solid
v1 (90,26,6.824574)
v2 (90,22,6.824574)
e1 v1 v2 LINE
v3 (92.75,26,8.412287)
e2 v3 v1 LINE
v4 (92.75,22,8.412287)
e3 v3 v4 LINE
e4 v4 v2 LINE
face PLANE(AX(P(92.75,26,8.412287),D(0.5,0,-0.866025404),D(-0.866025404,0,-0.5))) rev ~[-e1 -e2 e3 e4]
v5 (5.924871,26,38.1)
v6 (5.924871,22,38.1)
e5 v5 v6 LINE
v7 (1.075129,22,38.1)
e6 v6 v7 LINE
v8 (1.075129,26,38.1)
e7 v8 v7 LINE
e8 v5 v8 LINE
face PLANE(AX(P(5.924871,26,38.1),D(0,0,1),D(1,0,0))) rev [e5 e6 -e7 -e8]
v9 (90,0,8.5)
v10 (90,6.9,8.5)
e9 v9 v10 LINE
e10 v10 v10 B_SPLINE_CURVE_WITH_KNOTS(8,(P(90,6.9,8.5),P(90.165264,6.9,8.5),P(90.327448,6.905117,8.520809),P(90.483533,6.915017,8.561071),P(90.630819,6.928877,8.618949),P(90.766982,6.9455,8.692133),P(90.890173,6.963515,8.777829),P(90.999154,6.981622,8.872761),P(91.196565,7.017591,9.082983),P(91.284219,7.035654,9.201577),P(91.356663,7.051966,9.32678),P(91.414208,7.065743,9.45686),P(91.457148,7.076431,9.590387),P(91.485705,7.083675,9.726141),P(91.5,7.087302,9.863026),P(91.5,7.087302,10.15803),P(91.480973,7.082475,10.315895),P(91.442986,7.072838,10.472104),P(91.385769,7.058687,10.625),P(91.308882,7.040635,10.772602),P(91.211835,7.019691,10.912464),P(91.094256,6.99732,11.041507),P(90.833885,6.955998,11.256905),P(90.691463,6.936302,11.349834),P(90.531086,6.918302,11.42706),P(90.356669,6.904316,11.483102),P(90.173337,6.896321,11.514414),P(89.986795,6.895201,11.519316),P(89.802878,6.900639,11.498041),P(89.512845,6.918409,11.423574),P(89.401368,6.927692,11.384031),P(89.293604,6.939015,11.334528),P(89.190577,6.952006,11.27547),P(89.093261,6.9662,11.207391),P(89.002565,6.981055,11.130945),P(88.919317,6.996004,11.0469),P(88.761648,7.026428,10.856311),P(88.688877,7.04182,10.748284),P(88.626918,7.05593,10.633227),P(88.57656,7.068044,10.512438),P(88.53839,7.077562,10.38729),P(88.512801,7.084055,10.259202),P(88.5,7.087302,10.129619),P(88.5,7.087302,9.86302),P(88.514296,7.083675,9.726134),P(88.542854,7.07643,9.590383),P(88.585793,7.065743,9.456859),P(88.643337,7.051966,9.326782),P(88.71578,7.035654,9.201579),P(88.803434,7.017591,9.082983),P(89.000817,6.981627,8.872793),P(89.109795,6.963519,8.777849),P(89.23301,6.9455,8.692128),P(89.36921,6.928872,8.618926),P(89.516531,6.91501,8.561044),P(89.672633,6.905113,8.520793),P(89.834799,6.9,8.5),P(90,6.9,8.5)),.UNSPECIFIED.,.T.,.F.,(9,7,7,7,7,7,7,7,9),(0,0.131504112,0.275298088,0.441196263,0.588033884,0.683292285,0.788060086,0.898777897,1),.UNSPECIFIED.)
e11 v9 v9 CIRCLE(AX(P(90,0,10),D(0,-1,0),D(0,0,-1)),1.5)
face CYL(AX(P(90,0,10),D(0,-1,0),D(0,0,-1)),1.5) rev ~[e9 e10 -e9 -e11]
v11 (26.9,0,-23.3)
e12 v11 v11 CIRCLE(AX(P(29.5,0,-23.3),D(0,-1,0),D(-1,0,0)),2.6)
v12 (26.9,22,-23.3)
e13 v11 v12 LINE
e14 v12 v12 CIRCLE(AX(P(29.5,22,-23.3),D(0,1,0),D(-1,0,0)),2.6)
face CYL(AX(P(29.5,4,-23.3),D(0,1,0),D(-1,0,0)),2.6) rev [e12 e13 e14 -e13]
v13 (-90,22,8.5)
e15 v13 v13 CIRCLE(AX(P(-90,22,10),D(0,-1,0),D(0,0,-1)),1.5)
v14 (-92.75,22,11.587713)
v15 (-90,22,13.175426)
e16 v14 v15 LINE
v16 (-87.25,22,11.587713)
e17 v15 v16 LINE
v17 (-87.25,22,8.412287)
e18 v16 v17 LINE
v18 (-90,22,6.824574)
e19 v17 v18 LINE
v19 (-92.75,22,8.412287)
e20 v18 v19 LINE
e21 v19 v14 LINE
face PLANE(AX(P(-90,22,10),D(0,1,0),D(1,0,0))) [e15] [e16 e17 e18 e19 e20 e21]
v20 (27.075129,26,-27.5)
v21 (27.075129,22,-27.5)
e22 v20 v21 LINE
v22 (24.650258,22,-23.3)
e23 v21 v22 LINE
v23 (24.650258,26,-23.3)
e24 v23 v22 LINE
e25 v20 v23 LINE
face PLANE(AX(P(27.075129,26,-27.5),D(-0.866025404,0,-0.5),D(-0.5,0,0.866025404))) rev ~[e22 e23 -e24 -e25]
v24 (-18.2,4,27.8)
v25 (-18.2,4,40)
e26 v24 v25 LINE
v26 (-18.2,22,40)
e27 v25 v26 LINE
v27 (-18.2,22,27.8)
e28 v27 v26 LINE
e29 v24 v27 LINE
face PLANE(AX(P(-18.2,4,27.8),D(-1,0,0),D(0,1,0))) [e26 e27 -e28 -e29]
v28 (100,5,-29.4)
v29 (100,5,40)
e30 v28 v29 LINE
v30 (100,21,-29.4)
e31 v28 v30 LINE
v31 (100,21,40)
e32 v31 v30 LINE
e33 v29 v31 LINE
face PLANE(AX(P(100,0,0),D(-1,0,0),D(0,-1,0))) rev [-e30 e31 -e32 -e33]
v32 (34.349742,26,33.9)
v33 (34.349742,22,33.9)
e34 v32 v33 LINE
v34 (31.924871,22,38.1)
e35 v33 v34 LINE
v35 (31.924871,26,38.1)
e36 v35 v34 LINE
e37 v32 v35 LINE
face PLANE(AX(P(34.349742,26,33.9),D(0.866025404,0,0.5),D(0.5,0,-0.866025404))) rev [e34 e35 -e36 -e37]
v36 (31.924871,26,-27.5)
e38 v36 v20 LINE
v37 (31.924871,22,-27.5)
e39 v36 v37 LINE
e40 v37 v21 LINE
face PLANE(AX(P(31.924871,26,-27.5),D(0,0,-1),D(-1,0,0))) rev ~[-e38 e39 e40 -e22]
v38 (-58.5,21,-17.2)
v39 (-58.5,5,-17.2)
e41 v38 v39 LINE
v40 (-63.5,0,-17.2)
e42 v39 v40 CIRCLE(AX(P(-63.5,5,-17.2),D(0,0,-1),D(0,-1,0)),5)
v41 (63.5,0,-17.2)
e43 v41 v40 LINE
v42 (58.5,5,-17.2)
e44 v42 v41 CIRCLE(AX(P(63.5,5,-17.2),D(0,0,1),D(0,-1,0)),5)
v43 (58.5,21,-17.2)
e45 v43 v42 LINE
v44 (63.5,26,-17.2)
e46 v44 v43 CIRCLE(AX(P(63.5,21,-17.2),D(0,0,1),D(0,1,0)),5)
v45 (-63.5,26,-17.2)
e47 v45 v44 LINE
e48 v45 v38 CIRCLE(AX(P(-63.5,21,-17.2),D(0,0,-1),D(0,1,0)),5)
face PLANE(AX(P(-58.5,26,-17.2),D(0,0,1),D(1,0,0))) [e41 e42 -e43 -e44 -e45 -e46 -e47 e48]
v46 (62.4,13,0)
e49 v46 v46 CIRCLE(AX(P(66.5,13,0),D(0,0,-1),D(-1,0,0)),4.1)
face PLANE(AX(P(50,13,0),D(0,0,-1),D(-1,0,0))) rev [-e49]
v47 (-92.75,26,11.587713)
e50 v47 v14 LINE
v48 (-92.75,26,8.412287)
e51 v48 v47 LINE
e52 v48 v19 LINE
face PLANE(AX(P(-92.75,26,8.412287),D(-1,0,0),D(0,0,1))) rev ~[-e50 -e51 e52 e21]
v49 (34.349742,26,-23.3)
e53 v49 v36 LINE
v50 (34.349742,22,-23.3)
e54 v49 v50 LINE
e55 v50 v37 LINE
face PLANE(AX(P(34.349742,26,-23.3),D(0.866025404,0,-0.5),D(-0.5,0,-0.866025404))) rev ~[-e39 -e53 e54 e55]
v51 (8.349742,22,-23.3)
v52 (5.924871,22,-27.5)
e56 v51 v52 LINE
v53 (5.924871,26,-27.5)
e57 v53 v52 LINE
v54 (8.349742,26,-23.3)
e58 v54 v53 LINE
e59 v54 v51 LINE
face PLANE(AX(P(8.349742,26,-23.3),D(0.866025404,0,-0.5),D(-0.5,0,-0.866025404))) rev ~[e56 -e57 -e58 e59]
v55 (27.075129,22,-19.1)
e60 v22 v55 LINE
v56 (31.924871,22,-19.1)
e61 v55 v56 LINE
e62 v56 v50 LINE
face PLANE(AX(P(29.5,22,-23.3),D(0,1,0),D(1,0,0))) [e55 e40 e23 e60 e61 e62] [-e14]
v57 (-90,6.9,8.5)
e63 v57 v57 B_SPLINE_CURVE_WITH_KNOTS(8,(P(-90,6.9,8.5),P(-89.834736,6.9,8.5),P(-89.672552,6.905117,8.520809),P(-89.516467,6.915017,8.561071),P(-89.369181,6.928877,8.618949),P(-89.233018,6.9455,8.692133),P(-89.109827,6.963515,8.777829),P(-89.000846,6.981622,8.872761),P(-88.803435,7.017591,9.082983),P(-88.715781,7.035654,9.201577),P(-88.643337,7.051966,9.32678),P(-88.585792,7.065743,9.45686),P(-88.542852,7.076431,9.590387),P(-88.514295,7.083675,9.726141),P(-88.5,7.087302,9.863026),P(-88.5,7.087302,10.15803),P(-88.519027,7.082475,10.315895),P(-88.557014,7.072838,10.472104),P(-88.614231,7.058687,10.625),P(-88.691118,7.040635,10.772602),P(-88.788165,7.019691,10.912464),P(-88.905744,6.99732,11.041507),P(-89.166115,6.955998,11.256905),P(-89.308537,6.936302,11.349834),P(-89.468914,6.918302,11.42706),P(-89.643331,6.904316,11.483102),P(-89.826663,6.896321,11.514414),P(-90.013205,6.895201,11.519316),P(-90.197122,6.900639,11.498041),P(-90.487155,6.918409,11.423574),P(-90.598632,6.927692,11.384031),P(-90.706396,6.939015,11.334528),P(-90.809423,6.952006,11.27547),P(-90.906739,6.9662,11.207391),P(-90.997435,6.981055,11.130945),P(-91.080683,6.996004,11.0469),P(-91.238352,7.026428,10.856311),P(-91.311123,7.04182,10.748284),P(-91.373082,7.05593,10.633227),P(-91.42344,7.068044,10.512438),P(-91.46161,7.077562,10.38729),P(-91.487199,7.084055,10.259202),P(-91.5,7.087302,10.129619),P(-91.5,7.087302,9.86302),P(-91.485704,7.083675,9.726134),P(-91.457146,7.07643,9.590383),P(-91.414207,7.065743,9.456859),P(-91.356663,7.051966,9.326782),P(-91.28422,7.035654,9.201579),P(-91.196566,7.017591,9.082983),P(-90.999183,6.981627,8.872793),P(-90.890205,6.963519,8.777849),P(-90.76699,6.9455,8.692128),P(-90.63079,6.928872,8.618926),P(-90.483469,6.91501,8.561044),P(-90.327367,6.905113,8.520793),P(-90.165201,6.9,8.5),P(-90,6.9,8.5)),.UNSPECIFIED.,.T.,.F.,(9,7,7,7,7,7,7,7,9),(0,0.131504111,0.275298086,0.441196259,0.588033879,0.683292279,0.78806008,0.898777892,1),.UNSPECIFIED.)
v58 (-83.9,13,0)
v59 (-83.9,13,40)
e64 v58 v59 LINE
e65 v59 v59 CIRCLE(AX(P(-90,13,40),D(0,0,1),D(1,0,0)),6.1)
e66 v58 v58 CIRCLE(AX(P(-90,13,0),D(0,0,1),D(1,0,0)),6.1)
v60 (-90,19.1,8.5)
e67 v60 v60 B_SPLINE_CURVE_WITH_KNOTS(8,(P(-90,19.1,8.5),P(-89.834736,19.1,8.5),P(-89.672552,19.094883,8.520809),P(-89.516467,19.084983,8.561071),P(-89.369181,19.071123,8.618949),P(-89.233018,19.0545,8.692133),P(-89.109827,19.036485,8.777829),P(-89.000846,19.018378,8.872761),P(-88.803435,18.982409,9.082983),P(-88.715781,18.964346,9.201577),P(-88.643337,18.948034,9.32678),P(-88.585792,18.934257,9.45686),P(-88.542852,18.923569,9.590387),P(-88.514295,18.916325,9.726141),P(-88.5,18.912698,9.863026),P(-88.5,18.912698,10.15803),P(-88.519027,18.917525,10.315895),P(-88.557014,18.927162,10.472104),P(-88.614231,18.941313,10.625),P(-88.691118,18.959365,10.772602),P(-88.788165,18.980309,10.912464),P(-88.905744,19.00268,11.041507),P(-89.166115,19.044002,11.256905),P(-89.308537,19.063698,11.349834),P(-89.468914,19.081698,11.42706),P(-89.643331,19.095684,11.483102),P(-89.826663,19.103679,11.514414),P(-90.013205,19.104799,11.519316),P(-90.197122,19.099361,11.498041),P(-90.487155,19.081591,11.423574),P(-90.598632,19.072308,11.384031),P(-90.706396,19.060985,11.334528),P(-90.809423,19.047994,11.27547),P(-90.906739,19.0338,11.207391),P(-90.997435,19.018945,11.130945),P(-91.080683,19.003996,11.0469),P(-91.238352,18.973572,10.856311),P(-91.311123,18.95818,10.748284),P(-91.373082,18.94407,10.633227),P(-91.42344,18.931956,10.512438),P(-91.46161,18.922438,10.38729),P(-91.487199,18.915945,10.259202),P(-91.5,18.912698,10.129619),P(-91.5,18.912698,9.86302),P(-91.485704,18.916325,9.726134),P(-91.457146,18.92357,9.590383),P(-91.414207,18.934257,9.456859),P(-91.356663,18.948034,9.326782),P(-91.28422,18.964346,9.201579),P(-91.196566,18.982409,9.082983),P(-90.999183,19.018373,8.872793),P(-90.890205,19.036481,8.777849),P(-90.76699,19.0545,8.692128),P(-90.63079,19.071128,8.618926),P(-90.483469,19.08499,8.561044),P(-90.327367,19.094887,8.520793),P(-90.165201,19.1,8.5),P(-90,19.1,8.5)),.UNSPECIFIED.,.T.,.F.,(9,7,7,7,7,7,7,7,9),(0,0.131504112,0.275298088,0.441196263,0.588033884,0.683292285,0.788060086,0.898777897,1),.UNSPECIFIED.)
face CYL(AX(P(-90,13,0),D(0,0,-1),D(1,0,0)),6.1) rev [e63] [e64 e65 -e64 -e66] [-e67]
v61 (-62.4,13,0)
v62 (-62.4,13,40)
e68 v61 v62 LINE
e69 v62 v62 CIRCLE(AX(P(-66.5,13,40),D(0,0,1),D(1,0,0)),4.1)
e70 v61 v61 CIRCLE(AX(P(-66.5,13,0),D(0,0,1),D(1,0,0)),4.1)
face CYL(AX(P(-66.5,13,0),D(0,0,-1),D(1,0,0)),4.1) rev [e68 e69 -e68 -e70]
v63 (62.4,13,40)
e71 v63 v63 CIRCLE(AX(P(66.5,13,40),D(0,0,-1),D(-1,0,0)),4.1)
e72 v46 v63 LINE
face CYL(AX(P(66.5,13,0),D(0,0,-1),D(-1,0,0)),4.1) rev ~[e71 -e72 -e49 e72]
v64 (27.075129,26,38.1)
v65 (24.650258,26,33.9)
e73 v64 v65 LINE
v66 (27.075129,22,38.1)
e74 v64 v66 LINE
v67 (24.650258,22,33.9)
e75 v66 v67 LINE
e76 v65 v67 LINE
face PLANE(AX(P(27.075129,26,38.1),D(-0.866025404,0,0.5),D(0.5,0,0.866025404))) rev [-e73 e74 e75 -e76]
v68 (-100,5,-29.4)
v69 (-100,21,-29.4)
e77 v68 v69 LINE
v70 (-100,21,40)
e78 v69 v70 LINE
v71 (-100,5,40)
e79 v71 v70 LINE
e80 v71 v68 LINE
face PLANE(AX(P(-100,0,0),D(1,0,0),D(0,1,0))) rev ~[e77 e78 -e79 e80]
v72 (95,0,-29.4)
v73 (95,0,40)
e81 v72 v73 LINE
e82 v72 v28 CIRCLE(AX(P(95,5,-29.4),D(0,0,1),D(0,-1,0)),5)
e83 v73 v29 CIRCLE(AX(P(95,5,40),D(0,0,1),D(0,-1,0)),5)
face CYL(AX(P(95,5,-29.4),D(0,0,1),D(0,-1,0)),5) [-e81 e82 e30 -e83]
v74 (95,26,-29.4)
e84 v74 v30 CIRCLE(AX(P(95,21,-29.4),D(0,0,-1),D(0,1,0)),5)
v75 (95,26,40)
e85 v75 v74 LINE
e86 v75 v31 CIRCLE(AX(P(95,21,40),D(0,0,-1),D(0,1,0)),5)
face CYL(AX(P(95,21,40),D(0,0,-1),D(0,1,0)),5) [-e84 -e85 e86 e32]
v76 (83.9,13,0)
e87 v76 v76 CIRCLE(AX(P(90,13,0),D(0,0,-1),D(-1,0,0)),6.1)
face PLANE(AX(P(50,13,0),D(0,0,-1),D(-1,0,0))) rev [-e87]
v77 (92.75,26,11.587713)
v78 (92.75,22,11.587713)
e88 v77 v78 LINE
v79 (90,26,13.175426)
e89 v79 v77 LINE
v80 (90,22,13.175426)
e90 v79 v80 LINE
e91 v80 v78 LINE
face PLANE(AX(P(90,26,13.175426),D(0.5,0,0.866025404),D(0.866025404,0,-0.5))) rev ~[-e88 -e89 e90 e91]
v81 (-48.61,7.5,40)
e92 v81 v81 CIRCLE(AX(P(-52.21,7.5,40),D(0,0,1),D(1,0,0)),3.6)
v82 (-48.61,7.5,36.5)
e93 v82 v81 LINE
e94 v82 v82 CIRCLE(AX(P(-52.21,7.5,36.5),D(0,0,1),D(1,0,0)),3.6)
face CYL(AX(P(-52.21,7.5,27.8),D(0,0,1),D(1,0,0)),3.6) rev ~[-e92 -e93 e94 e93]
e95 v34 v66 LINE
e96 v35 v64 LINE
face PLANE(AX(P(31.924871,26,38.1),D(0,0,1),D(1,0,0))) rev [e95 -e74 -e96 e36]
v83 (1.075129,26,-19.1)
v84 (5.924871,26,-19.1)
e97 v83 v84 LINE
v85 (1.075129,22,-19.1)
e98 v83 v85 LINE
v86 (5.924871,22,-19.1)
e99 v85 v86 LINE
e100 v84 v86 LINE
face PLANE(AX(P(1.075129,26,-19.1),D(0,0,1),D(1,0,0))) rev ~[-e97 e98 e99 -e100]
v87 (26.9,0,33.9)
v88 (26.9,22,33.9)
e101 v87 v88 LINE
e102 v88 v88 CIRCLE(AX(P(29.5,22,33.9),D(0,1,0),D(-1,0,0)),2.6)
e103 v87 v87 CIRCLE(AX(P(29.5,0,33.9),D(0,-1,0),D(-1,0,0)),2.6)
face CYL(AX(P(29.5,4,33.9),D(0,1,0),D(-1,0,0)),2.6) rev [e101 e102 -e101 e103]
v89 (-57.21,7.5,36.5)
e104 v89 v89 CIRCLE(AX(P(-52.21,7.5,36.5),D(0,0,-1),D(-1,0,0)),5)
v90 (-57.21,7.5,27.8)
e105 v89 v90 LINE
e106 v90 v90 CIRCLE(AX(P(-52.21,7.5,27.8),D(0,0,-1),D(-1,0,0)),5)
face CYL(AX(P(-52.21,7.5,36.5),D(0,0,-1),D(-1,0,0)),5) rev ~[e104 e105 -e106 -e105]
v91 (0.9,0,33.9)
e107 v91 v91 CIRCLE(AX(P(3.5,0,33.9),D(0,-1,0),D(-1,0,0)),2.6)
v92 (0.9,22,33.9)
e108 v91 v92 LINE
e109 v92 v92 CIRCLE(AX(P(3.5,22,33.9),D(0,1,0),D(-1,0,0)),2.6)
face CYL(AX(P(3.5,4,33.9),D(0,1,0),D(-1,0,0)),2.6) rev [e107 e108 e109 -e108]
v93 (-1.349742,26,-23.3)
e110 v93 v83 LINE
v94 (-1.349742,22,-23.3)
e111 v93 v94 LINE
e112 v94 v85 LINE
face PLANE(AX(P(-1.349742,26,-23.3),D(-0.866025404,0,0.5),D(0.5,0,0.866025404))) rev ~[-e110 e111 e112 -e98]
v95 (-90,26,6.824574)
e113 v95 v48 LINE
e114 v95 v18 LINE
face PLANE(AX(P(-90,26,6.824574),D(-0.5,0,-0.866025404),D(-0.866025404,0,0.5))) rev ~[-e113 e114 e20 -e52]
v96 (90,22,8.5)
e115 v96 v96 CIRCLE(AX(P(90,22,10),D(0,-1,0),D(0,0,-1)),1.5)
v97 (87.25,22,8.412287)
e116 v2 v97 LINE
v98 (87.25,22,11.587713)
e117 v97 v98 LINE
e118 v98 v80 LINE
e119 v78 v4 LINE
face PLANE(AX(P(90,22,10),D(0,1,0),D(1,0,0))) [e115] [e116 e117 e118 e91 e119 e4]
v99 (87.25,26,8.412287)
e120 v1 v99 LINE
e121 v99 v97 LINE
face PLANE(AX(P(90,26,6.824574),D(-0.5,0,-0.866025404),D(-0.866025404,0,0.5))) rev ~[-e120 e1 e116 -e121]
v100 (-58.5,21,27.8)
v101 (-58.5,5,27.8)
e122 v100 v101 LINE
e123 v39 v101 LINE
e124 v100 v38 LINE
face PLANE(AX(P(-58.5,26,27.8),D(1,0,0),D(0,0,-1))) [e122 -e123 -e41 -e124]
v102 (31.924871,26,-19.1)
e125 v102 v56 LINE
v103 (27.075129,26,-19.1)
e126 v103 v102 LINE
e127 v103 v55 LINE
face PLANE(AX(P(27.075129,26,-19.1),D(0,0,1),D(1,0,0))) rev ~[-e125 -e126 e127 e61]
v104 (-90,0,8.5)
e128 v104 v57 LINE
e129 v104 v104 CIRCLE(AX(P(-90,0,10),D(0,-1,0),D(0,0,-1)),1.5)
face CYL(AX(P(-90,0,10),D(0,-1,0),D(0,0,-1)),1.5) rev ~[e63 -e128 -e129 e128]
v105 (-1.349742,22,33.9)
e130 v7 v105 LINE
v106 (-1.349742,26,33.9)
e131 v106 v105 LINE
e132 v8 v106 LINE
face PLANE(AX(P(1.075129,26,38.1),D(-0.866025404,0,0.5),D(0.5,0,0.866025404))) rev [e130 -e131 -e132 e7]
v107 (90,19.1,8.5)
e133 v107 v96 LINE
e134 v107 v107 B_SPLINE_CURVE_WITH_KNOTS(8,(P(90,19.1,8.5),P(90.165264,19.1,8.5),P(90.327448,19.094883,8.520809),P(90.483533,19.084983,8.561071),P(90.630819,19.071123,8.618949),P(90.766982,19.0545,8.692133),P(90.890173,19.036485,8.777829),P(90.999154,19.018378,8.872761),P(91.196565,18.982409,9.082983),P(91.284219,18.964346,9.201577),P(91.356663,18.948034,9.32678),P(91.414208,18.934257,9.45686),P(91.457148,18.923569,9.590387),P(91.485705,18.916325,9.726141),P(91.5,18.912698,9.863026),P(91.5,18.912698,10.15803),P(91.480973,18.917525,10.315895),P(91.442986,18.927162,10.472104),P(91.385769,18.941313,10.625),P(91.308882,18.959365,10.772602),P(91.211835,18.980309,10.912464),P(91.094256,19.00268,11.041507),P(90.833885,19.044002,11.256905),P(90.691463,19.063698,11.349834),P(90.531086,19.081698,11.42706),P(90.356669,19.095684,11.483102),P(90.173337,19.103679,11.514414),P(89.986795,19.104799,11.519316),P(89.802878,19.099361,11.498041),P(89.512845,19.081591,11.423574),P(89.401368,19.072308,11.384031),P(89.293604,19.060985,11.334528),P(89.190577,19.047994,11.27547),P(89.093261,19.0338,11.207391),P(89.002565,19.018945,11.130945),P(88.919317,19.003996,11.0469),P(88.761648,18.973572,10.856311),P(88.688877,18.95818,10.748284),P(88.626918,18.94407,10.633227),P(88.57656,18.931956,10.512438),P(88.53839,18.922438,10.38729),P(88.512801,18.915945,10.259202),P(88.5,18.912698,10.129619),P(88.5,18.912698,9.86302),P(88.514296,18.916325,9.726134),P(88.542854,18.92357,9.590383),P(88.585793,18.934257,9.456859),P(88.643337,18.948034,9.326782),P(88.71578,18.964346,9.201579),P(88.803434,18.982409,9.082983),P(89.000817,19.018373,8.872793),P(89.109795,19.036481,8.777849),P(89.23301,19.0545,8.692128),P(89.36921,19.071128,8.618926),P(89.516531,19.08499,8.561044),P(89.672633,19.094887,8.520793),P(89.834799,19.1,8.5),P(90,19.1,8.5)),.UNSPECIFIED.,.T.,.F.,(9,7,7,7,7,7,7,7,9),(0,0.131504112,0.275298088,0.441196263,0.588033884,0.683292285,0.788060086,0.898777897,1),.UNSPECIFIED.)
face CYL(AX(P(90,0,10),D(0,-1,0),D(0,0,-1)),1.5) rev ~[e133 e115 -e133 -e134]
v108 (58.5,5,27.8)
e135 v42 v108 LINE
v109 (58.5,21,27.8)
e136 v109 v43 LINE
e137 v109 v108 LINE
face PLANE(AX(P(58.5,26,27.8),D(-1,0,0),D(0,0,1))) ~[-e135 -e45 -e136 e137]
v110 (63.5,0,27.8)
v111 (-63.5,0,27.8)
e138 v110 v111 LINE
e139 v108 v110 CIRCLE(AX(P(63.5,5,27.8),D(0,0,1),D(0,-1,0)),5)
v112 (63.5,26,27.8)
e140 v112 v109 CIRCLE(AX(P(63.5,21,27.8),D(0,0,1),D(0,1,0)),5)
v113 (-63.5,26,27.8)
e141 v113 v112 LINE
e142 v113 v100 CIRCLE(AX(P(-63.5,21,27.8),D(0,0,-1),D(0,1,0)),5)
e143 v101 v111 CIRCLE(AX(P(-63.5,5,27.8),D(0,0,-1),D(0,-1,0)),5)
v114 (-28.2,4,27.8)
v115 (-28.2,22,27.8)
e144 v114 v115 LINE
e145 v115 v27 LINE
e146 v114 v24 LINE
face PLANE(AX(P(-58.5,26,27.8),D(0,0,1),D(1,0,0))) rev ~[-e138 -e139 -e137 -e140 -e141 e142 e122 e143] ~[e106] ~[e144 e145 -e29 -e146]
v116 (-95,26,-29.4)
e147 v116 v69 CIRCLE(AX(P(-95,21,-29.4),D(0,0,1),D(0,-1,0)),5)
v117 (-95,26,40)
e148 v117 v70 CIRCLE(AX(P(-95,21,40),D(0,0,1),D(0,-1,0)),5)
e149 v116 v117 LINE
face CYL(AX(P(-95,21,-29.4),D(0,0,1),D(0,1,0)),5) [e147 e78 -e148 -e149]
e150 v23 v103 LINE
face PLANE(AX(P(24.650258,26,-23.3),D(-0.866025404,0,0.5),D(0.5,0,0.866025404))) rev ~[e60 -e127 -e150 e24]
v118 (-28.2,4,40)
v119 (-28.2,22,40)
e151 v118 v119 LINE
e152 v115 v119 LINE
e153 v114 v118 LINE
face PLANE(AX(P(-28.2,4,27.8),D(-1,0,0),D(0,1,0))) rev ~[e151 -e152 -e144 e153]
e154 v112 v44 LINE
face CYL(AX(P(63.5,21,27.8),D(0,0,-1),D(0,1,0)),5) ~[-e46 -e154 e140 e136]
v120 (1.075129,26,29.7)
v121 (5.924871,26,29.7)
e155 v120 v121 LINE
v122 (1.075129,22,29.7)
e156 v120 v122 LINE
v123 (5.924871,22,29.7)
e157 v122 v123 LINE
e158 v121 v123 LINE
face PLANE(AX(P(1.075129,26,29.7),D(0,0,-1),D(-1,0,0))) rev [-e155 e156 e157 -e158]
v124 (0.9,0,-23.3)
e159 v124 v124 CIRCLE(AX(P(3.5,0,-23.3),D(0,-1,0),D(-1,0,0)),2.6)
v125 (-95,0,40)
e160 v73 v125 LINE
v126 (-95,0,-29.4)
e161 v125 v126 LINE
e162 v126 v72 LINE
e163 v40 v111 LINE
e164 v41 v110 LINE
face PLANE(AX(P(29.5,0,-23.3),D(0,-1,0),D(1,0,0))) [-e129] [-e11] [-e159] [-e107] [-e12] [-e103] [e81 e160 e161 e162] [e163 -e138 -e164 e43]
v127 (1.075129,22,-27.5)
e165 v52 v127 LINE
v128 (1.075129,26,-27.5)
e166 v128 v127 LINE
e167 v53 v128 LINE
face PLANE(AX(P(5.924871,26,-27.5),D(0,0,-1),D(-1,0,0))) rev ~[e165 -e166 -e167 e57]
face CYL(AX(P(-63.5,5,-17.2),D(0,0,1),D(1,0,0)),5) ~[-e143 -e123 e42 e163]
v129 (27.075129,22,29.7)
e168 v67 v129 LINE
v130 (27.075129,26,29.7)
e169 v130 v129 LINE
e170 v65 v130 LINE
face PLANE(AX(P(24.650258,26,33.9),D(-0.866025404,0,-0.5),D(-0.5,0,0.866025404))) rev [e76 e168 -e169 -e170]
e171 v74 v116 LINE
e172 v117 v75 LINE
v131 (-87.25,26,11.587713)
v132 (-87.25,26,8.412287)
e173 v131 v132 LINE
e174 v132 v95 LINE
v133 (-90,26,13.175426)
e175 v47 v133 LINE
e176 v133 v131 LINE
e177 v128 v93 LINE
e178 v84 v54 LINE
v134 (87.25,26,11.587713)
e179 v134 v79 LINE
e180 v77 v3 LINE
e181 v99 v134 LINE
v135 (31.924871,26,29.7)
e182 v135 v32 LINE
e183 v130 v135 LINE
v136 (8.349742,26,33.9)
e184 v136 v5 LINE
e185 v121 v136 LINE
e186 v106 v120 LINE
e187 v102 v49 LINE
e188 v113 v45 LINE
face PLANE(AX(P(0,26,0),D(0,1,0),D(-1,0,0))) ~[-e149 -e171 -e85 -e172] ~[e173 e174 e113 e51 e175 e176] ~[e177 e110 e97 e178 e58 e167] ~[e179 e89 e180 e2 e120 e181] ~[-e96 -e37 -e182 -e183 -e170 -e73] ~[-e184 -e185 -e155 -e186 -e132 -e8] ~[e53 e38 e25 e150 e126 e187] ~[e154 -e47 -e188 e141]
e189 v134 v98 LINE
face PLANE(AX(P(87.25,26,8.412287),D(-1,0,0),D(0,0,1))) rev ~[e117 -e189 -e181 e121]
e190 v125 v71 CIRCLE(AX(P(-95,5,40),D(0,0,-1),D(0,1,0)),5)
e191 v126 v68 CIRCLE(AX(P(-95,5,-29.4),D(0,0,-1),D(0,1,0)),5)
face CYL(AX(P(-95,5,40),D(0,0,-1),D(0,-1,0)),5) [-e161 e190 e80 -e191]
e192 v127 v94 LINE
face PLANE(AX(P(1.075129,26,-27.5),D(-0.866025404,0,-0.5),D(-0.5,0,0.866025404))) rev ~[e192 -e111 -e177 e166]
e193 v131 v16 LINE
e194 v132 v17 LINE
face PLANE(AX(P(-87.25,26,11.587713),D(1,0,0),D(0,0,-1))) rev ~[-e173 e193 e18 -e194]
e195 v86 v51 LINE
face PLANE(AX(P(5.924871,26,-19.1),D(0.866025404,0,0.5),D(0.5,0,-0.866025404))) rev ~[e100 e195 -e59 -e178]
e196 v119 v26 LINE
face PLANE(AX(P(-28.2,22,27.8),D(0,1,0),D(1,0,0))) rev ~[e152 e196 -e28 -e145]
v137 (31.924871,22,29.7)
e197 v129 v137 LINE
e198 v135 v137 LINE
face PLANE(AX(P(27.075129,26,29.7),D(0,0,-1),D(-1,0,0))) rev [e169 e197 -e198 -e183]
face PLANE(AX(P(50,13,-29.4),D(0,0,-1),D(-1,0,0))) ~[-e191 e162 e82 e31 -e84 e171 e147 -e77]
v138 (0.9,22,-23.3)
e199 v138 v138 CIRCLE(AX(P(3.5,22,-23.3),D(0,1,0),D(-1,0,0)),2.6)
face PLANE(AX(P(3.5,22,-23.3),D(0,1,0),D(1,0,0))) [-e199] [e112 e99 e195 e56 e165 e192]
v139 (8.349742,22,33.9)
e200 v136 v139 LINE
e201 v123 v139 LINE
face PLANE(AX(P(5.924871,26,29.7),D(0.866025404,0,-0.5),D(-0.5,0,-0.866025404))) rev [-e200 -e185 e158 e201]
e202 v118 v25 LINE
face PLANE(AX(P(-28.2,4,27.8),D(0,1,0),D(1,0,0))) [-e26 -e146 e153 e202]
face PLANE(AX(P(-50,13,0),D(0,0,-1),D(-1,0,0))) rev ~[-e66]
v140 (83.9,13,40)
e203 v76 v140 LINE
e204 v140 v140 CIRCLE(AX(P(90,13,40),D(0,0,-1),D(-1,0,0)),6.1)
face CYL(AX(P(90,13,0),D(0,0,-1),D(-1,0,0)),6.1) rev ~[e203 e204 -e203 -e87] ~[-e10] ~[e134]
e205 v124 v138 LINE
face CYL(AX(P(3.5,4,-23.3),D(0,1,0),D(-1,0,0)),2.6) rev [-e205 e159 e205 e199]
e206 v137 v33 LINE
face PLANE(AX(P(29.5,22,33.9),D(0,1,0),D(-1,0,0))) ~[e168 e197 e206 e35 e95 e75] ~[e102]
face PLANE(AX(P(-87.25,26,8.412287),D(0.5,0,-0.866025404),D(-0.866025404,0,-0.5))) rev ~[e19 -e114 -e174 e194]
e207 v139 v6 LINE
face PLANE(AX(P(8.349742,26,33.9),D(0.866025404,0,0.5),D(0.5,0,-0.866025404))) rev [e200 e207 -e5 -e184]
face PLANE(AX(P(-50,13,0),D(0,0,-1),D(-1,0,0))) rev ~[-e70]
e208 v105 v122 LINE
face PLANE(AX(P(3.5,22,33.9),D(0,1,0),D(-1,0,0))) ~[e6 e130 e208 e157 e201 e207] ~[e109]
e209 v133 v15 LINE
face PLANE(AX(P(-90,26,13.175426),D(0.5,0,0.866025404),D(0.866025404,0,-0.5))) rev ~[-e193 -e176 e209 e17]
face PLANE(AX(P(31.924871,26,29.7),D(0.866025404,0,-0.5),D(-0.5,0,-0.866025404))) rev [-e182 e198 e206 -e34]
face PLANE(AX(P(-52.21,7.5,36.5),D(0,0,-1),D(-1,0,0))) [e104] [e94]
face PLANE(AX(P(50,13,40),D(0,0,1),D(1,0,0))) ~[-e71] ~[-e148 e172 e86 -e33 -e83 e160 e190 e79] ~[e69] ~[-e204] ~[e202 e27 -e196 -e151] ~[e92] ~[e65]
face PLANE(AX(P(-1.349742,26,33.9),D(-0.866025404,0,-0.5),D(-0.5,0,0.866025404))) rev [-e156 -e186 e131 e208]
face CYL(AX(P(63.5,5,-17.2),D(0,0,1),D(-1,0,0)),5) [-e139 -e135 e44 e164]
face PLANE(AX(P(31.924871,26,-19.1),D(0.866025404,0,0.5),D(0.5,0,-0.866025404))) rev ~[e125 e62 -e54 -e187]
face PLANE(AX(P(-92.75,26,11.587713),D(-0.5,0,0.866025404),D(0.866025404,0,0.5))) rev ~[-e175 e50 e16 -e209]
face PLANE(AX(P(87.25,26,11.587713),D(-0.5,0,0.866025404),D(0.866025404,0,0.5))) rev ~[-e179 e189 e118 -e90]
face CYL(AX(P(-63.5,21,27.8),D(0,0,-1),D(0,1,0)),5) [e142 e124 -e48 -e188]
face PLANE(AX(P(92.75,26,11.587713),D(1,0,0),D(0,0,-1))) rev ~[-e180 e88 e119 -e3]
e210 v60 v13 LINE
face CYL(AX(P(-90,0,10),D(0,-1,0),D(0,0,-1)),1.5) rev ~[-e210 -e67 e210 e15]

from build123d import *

# Parameters (mm, degrees)
SKETCH1_W           = 100
SKETCH1_H           = 26
SKETCH1_R           = 6.1
SKETCH1_R_2         = 4.1
BOSS_EXTRUDE1_DEPTH = 40
SKETCH2_W           = 100
SKETCH2_H           = 26
BOSS_EXTRUDE2_DEPTH = 29.4
CUT_EXTRUDE1_REACH  = 112.797
SKETCH3_W           = 58.5
SKETCH3_H           = 45
SKETCH4_R           = 2.6
CUT_EXTRUDE2_DEPTH  = 111.797111876
CUT_EXTRUDE3_DEPTH  = 4
CUT_EXTRUDE4_START  = -12.2
SKETCH6_W           = 10
SKETCH6_H           = 18
CUT_EXTRUDE4_DEPTH  = 12.2
FILLET1_R           = 5
CUT_EXTRUDE5_DEPTH  = 4
SKETCH8_R           = 2.6
BOSS_EXTRUDE3_DEPTH = 4
SKETCH9_R           = 2.6
BOSS_EXTRUDE4_DEPTH = 4
SKETCH10_R          = 1.5
CUT_EXTRUDE6_DEPTH  = 111.797111876
CUT_EXTRUDE7_DEPTH  = 4
HOLE1_D             = 7.2
HOLE1_DEPTH         = 12.2
HOLE1_CBORE_D       = 10
HOLE1_CBORE_DEPTH   = 8.7


with BuildPart() as part:
    # Sketch1 → Boss-Extrude1 (new body)
    with BuildSketch(Plane.XY):
        with Locations((-50, 13)):
            Rectangle(SKETCH1_W, SKETCH1_H)
        with Locations((-90, 13)):
            Circle(SKETCH1_R, mode=Mode.SUBTRACT)
        with Locations((-66.5, 13)):
            Circle(SKETCH1_R_2, mode=Mode.SUBTRACT)
    boss_extrude1 = extrude(amount=BOSS_EXTRUDE1_DEPTH)

    # Sketch2 → Boss-Extrude2 (add)
    with BuildSketch(Plane(origin=(0, 0, 0), x_dir=(-1, 0, 0), z_dir=(0, 0, -1))):
        with Locations((50, 13)):
            Rectangle(SKETCH2_W, SKETCH2_H)
    boss_extrude2 = extrude(amount=BOSS_EXTRUDE2_DEPTH)

    # Sketch3 → Cut-Extrude1 (cut, up to next)
    with BuildSketch(Plane(origin=(0, 26, 0), x_dir=(1, 0, 0), z_dir=(0, 1, 0)), mode=Mode.PRIVATE) as cut_extrude1_sk1:
        with Locations((-29.25, -5.3)):
            Rectangle(SKETCH3_W, SKETCH3_H)
    cut_extrude1_tool1 = extrude(cut_extrude1_sk1.sketch, amount=-CUT_EXTRUDE1_REACH, mode=Mode.PRIVATE) & part.part
    cut_extrude1 = cut_extrude1_tool1.solids().sort_by_distance((-29.25, 26, 5.3))[0]
    add(cut_extrude1, mode=Mode.SUBTRACT)

    # Mirror2: Boss-Extrude1, Boss-Extrude2, Cut-Extrude1 across plane
    add(boss_extrude1.mirror(Plane(origin=(0, 0, 40), x_dir=(0, 0, 1), z_dir=(-1, 0, 0))))
    add(boss_extrude2.mirror(Plane(origin=(0, 0, 40), x_dir=(0, 0, 1), z_dir=(-1, 0, 0))))
    add(cut_extrude1.mirror(Plane(origin=(0, 0, 40), x_dir=(0, 0, 1), z_dir=(-1, 0, 0))), mode=Mode.SUBTRACT)

    # Sketch4 → Cut-Extrude2 (cut, through all)
    with BuildSketch(Plane(origin=(0, 26, 0), x_dir=(1, 0, 0), z_dir=(0, 1, 0))):
        with Locations(Location((3.5, 23.3, 0), (0, 0, 180))):
            Circle(SKETCH4_R)
        with Locations(Location((29.5, 23.3, 0), (0, 0, 180))):
            Circle(SKETCH4_R)
    cut_extrude2 = extrude(amount=-CUT_EXTRUDE2_DEPTH, mode=Mode.SUBTRACT)

    # Sketch5 → Cut-Extrude3 (cut)
    with BuildSketch(Plane.XZ):
        Polygon((34.234272207, -23.3), (31.867136104, -19.2), (27.132863896, -19.2), (24.765727793, -23.3), (27.132863896, -27.4), (31.867136104, -27.4), align=None)
        Polygon((-1.234272207, -23.3), (1.132863896, -27.4), (5.867136104, -27.4), (8.234272207, -23.3), (5.867136104, -19.2), (1.132863896, -19.2), align=None)
    cut_extrude3 = extrude(amount=-CUT_EXTRUDE3_DEPTH, mode=Mode.SUBTRACT)

    # Mirror3: Cut-Extrude2, Cut-Extrude3 across plane
    add(cut_extrude2.mirror(Plane.XY.offset(5.3)), mode=Mode.SUBTRACT)
    add(cut_extrude3.mirror(Plane.XY.offset(5.3)), mode=Mode.SUBTRACT)

    # Sketch6 → Cut-Extrude4 (cut)
    with BuildSketch(Plane.XY.offset(40).offset(CUT_EXTRUDE4_START)):
        with Locations((-23.2, 13)):
            Rectangle(SKETCH6_W, SKETCH6_H)
    extrude(amount=CUT_EXTRUDE4_DEPTH, mode=Mode.SUBTRACT)

    # Fillet1
    fillet1_edges = [part.edges().sort_by_distance(p)[0] for p in [
        (-58.5, 26, 5.3),
        (-58.5, 0, 5.3),
        (100, 0, 5.3),
        (100, 26, 5.3),
        (-100, 0, 5.3),
        (-100, 26, 5.3),
        (58.5, 0, 5.3),
        (58.5, 26, 5.3),
    ]]
    fillet(fillet1_edges, radius=FILLET1_R)

    # Sketch7 → Cut-Extrude5 (cut)
    with BuildSketch(Plane(origin=(0, 26, 0), x_dir=(1, 0, 0), z_dir=(0, 1, 0))):
        Polygon((8.349742261, 23.3), (5.924871131, 27.5), (1.075128869, 27.5), (-1.349742261, 23.3), (1.075128869, 19.1), (5.924871131, 19.1), align=None)
        Polygon((34.349742261, 23.3), (31.924871131, 27.5), (27.075128869, 27.5), (24.650257739, 23.3), (27.075128869, 19.1), (31.924871131, 19.1), align=None)
    cut_extrude5 = extrude(amount=-CUT_EXTRUDE5_DEPTH, mode=Mode.SUBTRACT)

    # Mirror4: Cut-Extrude5 across plane
    add(cut_extrude5.mirror(Plane.XY.offset(5.3)), mode=Mode.SUBTRACT)

    # Sketch8 → Boss-Extrude3 (add)
    # profile 1 of 2: a face of its own
    with BuildSketch(Plane.XZ.offset(-4)):
        Polygon((27.132863896, 38), (31.867136104, 38), (34.234272207, 33.9), (31.867136104, 29.8), (27.132863896, 29.8), (24.765727793, 33.9), align=None)
        with Locations(Location((29.5, 33.9, 0), (0, 0, 180))):
            Circle(SKETCH8_R, mode=Mode.SUBTRACT)
    # profile 2 of 2: a face of its own
    with BuildSketch(Plane.XZ.offset(-4)):
        Polygon((1.132863896, 38), (5.867136104, 38), (8.234272207, 33.9), (5.867136104, 29.8), (1.132863896, 29.8), (-1.234272207, 33.9), align=None)
        with Locations(Location((3.5, 33.9, 0), (0, 0, 180))):
            Circle(SKETCH8_R, mode=Mode.SUBTRACT)
    extrude(amount=BOSS_EXTRUDE3_DEPTH)

    # Sketch9 → Boss-Extrude4 (add)
    # profile 1 of 2: a face of its own
    with BuildSketch(Plane.XZ.offset(-4)):
        Polygon((31.867136104, -19.2), (27.132863896, -19.2), (24.765727793, -23.3), (27.132863896, -27.4), (31.867136104, -27.4), (34.234272207, -23.3), align=None)
        with Locations(Location((29.5, -23.3, 0), (0, 0, 180))):
            Circle(SKETCH9_R, mode=Mode.SUBTRACT)
    # profile 2 of 2: a face of its own
    with BuildSketch(Plane.XZ.offset(-4)):
        Polygon((1.132863896, -19.2), (-1.234272207, -23.3), (1.132863896, -27.4), (5.867136104, -27.4), (8.234272207, -23.3), (5.867136104, -19.2), align=None)
        with Locations(Location((3.5, -23.3, 0), (0, 0, 180))):
            Circle(SKETCH9_R, mode=Mode.SUBTRACT)
    extrude(amount=BOSS_EXTRUDE4_DEPTH)

    # Sketch10 → Cut-Extrude6 (cut, through all)
    with BuildSketch(Plane.XZ):
        with Locations(Location((-90, 10, 0), (0, 0, 270))):
            Circle(SKETCH10_R)
        with Locations(Location((90, 10, 0), (0, 0, 270))):
            Circle(SKETCH10_R)
    extrude(amount=-CUT_EXTRUDE6_DEPTH, mode=Mode.SUBTRACT)

    # Sketch11 → Cut-Extrude7 (cut)
    with BuildSketch(Plane(origin=(0, 26, 0), x_dir=(1, 0, 0), z_dir=(0, 1, 0))):
        Polygon((-90, -13.175426481), (-87.25, -11.58771324), (-87.25, -8.41228676), (-90, -6.824573519), (-92.75, -8.41228676), (-92.75, -11.58771324), align=None)
        Polygon((90, -13.175426481), (92.75, -11.58771324), (92.75, -8.41228676), (90, -6.824573519), (87.25, -8.41228676), (87.25, -11.58771324), align=None)
    extrude(amount=-CUT_EXTRUDE7_DEPTH, mode=Mode.SUBTRACT)

    # Hole1
    with Locations(Plane(origin=(-52.21, 7.5, 27.8), x_dir=(-1, 0, 0), z_dir=(0, 0, -1))):
        with Locations((0, 0)):
            CounterBoreHole(HOLE1_D / 2, HOLE1_CBORE_D / 2, HOLE1_CBORE_DEPTH, depth=HOLE1_DEPTH)


solid = part.part
